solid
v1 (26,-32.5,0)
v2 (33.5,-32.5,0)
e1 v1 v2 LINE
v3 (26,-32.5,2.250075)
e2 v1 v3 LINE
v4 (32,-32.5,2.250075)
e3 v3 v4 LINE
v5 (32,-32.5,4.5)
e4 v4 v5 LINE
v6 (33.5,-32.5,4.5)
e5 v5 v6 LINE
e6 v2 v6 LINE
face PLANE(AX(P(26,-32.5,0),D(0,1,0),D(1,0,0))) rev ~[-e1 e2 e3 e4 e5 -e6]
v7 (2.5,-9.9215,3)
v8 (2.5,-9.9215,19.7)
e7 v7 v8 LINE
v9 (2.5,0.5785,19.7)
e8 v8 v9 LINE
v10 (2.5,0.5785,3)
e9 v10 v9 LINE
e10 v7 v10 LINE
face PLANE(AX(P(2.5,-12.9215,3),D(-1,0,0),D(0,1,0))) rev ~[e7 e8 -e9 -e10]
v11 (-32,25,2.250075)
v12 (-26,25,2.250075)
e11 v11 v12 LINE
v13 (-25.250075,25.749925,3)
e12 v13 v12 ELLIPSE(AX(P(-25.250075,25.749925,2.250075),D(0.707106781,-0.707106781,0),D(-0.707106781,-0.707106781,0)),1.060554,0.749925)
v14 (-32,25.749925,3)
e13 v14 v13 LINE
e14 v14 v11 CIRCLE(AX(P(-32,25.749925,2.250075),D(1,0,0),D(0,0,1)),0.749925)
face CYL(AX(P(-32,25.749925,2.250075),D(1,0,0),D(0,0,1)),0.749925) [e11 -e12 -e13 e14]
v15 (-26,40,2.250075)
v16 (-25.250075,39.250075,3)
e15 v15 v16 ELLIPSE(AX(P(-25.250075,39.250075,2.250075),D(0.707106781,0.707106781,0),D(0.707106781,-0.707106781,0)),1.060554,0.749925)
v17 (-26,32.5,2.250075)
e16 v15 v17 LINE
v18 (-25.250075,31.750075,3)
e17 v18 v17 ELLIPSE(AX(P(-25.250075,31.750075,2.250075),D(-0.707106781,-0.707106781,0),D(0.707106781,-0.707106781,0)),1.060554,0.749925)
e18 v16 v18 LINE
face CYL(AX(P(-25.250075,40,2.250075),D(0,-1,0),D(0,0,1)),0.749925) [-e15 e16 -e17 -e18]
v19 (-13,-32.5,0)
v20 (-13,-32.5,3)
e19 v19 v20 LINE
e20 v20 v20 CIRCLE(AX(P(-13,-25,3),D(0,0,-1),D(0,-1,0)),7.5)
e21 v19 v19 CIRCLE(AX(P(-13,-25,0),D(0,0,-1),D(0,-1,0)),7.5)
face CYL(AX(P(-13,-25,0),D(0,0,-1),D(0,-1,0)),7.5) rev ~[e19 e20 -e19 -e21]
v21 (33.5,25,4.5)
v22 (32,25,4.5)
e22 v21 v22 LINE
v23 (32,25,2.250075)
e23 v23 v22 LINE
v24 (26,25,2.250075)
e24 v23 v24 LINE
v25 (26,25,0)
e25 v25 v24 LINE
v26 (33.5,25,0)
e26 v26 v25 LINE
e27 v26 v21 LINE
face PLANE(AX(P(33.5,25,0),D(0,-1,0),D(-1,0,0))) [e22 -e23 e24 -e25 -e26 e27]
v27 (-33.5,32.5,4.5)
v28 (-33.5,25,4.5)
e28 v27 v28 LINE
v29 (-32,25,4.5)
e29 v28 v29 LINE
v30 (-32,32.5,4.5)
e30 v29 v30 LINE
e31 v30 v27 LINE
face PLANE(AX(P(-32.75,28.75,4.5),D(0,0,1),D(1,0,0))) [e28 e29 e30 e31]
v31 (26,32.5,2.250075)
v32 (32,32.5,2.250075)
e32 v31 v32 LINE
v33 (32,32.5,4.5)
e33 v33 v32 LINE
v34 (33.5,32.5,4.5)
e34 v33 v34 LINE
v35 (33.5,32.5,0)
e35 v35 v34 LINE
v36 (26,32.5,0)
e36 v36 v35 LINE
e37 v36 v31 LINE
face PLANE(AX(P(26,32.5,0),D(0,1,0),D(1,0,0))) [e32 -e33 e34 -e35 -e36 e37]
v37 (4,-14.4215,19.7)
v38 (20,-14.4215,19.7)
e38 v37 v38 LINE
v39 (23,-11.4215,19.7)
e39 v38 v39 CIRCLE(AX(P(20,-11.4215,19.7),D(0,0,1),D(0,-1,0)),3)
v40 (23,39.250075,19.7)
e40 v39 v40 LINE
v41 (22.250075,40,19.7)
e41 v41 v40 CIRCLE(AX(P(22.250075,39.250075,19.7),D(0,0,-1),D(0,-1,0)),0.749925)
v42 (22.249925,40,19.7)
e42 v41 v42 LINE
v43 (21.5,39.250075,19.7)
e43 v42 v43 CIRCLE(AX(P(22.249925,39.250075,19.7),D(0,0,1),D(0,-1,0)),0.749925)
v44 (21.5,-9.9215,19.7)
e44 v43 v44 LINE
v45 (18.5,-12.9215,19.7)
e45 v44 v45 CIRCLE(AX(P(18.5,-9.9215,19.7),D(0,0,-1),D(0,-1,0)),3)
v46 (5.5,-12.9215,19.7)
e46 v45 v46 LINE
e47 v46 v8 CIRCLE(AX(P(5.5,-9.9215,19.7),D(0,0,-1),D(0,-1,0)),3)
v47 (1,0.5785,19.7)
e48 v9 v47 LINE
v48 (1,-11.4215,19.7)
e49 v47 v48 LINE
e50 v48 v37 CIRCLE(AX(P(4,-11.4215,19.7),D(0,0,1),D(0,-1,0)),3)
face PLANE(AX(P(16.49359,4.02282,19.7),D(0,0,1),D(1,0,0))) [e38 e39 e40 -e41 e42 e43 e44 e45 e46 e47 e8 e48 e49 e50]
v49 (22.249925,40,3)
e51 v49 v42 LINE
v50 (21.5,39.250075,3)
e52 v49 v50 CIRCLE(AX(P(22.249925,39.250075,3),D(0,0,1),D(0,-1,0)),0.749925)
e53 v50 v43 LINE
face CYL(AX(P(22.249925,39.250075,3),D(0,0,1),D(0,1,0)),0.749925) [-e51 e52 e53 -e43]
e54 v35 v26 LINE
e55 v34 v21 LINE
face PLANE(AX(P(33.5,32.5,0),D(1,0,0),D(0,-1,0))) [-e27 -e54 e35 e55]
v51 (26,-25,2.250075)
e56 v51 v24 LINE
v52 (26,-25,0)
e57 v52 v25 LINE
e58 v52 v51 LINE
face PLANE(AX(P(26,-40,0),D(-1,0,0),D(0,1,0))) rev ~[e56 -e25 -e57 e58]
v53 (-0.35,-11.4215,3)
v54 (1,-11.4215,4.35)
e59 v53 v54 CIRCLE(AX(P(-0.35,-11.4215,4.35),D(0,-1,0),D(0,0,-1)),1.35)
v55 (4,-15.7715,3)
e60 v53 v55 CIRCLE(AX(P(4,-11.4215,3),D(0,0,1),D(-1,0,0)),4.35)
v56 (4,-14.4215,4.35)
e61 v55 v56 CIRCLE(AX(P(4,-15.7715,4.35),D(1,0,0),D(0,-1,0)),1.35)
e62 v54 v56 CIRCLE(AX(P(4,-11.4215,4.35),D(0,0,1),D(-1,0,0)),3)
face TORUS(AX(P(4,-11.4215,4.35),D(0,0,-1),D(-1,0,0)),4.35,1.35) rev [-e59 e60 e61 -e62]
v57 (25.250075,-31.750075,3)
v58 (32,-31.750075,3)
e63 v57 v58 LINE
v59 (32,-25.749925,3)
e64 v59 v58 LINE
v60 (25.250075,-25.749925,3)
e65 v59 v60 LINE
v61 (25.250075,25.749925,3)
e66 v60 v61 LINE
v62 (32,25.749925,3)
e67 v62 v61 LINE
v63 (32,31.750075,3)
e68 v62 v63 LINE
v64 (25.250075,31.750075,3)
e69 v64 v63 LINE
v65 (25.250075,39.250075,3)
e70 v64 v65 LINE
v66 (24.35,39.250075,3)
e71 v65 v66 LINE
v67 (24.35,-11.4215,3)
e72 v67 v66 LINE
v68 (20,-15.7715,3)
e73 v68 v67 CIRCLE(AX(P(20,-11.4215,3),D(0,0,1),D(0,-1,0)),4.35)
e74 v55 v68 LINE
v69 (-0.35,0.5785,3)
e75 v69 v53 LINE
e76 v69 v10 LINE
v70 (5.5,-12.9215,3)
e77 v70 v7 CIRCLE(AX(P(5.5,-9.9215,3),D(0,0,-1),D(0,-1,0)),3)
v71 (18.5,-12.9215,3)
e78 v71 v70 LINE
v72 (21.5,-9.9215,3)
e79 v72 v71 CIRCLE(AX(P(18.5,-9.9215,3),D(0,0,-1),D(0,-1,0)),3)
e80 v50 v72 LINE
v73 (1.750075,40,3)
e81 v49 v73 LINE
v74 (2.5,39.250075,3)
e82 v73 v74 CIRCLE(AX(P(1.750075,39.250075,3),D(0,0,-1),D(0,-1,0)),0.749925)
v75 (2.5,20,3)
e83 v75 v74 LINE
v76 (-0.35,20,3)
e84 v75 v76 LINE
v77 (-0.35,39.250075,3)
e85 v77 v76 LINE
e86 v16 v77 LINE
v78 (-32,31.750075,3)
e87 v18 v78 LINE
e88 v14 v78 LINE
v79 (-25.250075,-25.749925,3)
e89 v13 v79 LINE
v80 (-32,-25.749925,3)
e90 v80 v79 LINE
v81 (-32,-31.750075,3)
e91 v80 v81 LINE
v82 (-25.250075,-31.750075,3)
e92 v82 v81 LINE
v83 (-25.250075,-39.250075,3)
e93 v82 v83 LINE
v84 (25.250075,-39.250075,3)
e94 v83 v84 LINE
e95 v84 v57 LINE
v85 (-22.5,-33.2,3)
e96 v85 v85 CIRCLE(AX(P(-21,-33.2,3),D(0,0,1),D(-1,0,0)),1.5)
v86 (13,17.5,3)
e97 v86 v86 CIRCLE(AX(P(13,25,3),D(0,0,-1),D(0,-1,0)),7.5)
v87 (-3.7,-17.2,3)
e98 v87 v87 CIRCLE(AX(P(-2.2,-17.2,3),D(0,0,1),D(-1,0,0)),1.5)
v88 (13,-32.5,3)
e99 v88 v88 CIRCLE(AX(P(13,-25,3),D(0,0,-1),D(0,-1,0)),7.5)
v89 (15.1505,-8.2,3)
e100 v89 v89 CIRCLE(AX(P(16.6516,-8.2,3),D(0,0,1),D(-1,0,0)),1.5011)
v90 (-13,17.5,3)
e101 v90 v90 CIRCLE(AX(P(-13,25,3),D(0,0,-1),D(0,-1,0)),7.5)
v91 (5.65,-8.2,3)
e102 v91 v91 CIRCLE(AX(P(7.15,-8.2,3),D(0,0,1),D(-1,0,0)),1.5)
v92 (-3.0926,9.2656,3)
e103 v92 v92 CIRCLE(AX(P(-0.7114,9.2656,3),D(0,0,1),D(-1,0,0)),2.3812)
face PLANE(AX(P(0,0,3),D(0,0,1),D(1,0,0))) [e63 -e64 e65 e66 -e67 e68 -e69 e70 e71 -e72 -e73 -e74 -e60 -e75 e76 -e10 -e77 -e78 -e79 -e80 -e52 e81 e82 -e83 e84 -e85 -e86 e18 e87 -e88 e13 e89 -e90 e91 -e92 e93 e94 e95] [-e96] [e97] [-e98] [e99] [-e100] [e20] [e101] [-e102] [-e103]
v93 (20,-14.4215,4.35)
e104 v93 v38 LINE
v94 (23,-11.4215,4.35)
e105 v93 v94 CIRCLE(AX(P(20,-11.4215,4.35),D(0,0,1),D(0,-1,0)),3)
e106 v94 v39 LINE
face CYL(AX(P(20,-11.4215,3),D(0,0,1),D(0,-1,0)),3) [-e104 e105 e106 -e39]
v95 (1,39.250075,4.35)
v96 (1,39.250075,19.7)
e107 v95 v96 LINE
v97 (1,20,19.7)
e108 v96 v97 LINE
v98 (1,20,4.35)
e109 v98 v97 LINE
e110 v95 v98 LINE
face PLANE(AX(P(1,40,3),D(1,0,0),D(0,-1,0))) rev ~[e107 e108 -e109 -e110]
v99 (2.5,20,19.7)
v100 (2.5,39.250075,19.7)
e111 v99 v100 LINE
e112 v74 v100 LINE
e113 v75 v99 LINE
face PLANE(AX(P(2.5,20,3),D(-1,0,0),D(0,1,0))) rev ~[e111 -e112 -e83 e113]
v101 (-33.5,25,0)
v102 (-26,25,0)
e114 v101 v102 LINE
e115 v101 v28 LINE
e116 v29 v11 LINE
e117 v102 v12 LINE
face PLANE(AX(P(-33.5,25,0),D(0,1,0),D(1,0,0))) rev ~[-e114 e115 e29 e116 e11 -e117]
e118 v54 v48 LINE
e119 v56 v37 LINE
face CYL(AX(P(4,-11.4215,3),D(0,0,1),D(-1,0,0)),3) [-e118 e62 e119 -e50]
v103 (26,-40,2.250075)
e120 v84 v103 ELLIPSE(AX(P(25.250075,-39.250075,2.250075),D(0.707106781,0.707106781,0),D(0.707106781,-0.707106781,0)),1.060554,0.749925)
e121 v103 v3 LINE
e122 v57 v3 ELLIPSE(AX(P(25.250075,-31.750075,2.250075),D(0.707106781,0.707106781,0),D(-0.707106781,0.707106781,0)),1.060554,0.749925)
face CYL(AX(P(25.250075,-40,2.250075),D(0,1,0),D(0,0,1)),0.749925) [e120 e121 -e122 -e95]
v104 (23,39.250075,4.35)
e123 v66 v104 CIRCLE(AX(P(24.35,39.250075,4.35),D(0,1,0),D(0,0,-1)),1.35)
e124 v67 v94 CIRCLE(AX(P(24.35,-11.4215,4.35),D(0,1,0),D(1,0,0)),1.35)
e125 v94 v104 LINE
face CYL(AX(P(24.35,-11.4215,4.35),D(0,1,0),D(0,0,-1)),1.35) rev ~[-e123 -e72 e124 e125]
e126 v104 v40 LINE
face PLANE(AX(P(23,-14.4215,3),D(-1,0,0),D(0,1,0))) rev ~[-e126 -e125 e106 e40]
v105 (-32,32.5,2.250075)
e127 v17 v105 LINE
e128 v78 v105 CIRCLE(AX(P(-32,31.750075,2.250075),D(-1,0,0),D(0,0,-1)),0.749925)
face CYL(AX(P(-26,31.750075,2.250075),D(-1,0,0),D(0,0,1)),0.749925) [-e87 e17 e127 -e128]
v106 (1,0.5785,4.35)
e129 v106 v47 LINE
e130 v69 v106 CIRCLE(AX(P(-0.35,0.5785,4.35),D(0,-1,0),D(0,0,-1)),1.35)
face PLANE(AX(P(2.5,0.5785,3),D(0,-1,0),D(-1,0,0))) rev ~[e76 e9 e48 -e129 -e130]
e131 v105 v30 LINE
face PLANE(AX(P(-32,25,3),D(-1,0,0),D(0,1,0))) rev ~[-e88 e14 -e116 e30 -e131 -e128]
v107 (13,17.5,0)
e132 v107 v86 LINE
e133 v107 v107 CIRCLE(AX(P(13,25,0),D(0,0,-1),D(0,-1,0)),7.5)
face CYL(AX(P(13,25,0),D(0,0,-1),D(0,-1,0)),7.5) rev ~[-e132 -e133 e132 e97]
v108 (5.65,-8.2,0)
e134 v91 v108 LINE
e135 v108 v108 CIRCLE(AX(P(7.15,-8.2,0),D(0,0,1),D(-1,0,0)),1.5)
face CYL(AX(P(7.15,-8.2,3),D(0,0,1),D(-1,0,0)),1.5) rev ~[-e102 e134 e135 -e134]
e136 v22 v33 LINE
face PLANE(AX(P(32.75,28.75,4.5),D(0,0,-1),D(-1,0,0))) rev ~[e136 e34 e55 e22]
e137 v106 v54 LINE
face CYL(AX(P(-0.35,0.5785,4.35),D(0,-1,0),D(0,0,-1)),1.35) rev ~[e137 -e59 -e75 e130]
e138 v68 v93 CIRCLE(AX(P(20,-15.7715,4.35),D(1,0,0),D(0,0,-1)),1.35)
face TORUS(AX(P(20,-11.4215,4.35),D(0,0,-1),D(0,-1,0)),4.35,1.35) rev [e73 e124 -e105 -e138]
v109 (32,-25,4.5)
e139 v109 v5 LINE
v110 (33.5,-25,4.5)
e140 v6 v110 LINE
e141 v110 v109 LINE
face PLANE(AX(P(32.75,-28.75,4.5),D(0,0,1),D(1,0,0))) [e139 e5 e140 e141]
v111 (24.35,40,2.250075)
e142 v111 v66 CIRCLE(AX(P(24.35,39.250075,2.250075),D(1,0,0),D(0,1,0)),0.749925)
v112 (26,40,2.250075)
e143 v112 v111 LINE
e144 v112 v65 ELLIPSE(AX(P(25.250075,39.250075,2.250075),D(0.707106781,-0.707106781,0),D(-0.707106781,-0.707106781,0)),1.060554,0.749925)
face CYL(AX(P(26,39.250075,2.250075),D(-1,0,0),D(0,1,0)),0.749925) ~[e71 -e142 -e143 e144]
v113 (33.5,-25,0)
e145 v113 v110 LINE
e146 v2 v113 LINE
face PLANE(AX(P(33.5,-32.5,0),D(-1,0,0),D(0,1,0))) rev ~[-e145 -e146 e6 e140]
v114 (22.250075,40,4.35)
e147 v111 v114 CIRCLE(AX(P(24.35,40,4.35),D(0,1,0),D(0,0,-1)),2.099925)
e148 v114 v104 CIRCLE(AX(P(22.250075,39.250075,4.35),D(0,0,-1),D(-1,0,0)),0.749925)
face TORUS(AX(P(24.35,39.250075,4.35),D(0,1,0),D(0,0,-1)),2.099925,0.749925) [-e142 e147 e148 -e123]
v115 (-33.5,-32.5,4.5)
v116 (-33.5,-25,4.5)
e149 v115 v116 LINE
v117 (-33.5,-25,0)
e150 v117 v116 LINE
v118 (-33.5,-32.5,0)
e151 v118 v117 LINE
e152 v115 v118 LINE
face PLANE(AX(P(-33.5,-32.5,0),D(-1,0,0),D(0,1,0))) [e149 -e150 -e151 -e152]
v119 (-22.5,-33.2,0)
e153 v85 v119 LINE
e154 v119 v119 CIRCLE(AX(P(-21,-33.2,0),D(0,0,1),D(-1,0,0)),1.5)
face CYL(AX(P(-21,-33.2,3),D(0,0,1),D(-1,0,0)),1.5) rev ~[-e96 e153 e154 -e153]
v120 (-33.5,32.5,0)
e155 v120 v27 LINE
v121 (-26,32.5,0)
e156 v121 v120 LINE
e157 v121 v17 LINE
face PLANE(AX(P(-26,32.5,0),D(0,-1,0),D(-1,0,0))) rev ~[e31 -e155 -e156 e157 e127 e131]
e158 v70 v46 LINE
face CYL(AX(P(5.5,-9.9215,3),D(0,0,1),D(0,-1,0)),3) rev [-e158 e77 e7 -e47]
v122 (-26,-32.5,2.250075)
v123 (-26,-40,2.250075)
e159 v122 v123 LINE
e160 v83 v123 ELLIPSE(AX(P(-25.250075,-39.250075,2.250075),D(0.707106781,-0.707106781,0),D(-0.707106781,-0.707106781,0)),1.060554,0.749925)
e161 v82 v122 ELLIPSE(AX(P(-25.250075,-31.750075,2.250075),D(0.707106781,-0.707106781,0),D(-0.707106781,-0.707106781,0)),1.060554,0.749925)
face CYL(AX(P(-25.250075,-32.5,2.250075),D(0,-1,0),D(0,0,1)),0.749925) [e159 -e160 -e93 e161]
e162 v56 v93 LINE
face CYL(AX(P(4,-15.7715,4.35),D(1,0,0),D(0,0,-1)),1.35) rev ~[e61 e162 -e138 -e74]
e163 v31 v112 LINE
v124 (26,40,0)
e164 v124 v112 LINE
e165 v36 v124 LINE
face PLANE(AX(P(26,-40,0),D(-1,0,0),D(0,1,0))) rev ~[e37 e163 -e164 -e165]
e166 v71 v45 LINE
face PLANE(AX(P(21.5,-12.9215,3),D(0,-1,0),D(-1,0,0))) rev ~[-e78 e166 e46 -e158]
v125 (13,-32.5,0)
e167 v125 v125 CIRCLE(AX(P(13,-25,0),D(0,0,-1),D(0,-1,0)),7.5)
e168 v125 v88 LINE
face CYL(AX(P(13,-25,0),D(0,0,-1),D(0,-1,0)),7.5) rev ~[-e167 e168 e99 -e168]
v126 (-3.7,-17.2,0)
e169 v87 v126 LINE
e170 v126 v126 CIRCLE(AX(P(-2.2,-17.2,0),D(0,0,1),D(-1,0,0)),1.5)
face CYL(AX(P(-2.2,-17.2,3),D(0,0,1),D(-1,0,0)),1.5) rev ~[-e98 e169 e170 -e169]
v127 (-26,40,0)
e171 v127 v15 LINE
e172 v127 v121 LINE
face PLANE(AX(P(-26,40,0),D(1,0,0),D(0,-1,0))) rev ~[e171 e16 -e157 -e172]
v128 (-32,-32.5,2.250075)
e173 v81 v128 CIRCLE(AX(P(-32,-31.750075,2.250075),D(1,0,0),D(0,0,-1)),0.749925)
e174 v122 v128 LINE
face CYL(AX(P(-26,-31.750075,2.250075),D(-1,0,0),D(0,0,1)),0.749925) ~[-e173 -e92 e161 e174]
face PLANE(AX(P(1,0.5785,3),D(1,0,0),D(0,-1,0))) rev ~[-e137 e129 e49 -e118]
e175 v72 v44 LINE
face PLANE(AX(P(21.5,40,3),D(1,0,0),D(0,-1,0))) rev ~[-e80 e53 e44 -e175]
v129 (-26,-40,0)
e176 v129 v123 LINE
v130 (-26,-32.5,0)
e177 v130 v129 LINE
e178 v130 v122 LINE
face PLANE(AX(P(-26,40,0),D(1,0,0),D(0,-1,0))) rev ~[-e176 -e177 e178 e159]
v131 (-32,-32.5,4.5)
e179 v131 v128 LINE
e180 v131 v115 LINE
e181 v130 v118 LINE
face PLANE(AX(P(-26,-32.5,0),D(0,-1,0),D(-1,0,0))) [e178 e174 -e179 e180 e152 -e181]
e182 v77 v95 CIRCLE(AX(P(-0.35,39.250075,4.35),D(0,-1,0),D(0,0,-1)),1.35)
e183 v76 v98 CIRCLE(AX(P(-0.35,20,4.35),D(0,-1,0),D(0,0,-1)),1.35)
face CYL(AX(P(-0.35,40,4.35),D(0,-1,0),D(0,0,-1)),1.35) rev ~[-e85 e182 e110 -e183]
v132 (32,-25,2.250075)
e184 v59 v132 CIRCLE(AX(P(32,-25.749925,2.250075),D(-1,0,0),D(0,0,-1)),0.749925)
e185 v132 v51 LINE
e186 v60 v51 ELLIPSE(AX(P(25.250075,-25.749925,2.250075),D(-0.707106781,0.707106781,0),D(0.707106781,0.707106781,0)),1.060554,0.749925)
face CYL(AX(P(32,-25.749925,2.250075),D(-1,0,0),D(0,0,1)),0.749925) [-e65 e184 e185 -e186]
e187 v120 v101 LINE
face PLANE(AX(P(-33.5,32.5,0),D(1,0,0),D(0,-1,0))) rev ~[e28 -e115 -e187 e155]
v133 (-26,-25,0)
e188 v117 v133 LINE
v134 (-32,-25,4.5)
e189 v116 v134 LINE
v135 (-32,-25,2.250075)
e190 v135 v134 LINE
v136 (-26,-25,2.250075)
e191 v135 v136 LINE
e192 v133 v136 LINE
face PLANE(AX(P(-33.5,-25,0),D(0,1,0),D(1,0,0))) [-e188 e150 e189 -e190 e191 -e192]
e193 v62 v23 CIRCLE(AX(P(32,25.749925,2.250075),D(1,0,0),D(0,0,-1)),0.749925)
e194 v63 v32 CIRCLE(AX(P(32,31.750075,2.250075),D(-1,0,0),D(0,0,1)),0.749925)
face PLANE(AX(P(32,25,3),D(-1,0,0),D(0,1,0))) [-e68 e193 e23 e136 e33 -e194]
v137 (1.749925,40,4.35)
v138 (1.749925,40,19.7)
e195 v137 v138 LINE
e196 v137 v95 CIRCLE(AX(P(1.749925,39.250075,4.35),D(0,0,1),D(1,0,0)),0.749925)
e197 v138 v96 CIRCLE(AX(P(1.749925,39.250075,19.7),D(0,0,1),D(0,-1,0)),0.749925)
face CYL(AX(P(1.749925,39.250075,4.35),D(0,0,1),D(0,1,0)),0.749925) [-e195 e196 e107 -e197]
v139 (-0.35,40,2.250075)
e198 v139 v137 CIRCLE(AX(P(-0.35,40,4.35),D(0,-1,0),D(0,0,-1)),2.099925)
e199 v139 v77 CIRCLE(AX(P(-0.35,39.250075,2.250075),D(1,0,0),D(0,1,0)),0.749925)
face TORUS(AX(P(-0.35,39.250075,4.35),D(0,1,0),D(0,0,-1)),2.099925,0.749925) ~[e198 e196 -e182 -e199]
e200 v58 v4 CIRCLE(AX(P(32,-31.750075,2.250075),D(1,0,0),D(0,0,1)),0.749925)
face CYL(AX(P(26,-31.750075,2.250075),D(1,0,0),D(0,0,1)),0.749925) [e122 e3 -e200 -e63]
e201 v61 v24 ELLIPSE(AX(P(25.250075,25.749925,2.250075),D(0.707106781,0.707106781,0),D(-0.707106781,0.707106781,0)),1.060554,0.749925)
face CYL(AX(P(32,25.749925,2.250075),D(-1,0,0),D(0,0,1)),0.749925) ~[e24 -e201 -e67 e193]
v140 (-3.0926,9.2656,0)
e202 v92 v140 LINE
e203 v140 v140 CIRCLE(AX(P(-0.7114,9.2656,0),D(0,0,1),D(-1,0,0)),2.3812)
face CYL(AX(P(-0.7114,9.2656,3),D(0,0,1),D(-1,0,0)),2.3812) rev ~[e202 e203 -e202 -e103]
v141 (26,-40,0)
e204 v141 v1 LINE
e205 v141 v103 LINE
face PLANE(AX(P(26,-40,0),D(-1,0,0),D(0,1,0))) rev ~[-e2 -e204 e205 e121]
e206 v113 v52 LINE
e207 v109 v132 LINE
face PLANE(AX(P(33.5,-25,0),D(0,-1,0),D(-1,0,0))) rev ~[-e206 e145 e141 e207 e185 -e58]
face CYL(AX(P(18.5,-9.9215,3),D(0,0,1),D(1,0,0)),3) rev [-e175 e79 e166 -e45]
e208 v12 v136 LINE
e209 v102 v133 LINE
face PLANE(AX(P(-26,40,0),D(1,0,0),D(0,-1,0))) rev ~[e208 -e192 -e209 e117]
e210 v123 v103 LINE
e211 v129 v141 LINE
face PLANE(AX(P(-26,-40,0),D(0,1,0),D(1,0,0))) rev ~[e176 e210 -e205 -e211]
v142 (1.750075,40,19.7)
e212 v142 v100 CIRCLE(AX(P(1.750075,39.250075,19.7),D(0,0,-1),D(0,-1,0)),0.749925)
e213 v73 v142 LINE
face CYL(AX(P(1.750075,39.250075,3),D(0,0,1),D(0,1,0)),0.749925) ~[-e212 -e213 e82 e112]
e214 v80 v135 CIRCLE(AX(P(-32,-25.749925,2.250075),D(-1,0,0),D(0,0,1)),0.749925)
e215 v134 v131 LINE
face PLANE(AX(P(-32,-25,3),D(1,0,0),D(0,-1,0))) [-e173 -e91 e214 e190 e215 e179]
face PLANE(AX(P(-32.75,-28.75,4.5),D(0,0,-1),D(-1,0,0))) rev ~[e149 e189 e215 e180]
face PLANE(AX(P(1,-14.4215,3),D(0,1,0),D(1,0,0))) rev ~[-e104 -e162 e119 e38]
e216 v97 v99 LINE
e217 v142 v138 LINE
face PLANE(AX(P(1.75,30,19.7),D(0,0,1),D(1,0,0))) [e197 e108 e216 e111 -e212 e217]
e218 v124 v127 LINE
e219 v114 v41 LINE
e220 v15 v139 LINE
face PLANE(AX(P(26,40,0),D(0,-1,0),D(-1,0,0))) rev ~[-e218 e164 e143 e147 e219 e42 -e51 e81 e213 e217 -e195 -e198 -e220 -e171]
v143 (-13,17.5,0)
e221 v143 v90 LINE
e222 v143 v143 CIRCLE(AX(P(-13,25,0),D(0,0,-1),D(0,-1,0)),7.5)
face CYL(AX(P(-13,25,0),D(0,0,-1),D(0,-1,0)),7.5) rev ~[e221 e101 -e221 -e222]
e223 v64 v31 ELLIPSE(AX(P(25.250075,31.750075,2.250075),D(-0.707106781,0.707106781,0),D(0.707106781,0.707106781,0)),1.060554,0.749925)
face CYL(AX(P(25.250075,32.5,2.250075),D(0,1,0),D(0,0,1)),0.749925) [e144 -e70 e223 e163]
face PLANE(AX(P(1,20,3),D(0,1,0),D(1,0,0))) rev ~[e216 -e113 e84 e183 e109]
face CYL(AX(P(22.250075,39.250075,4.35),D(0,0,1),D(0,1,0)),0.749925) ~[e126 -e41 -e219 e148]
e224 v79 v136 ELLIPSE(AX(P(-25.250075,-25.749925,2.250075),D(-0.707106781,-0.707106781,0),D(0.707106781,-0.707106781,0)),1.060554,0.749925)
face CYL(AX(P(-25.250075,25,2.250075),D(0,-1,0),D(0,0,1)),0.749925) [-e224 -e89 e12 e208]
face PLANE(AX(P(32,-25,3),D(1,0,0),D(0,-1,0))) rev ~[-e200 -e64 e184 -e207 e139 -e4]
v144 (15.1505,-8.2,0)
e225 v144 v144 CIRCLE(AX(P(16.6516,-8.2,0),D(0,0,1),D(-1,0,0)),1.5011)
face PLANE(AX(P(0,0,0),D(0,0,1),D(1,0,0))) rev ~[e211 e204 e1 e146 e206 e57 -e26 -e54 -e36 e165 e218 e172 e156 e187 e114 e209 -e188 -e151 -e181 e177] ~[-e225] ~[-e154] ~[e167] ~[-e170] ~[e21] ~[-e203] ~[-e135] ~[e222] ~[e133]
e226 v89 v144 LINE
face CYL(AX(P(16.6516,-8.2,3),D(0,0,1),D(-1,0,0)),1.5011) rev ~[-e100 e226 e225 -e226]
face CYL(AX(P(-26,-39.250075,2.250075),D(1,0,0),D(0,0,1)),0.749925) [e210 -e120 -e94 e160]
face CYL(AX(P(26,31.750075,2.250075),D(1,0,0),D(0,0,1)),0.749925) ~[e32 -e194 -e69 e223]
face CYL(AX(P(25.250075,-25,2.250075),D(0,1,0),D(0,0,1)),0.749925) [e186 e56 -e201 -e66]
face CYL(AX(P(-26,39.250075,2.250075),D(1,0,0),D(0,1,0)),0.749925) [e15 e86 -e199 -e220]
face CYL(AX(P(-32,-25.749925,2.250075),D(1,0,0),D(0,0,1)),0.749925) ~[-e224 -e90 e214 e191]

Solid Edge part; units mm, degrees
sketch "Sketch1" plane through (0, 0, 0) normal (0, 0, 1) x (1, 0, 0)
  line L0 (-26, -40) -> (26, -40)
  line L1 (26, -40) -> (26, 40)
  line L2 (26, 40) -> (-26, 40)
  line L3 (-26, 40) -> (-26, -40)
extrude "Protrusion1" add sketch "Sketch1" along normal blind 3
sketch "Sketch2" plane through (0, 0, 3) normal (0, 0, 1) x (-1, 0, 0)
  line L0 (-23, 14.4215) -> (-23, -40)
  line L1 (-23, -40) -> (-21.5, -40)
  line L2 (-21.5, -40) -> (-21.5, 12.9215)
  line L3 (-21.5, 12.9215) -> (-2.5, 12.9215)
  line L4 (-2.5, 12.9215) -> (-2.5, -0.5785)
  line L5 (-2.5, -0.5785) -> (-1, -0.5785)
  line L6 (-1, -0.5785) -> (-1, 14.4215)
  line L7 (-1, 14.4215) -> (-23, 14.4215)
  line L8 (-2.5, -40) -> (-1, -40)
  line L9 (-1, -40) -> (-1, -20)
  line L10 (-1, -20) -> (-2.5, -20)
  line L11 (-2.5, -20) -> (-2.5, -40)
  dimension "D1" = 3.0023
  dimension "D2" = 3
  dimension "D3" = 9.5016
  dimension "D4" = 8.2
  dimension "D5" = 7.15
  dimension "D6" = 19
  dimension "D7" = 1.5
  dimension "D8" = 54.4215
  dimension "D9" = 22
  dimension "D10" = 3
  dimension "D11" = 15
  dimension "D12" = 1.5
extrude "ExtrudedProtrusion_2" add sketch "Sketch2" along normal blind 16.7
sketch "Sketch3" plane through (0, 0, 3) normal (0, 0, 1) x (-1, 0, 0)
  circle A0 centre (-7.15, 8.2) radius 1.5
  circle A1 centre (-16.6516, 8.2) radius 1.5011
  dimension "D1" = 3.0023
  dimension "D2" = 3
  dimension "D3" = 9.5016
  dimension "D4" = 8.2
  dimension "D5" = 7.15
  dimension "D6" = 19
  dimension "D7" = 1.5
  dimension "D8" = 54.4215
  dimension "D9" = 22
  dimension "D10" = 3
  dimension "D11" = 15
  dimension "D12" = 1.5
extrude "Cutout1" cut sketch "Sketch3" against normal up to vertex (3 mm away)
sketch "Sketch4" plane through (0, 0, 3) normal (0, 0, 1) x (-1, 0, 0)
  circle A0 centre (2.2, 17.2) radius 1.5
  circle A1 centre (21, 33.2) radius 1.5
  dimension "D1" = 3
  dimension "D2" = 6.8
  dimension "D3" = 5
  dimension "D4" = 3
  dimension "D5" = 36.8
  dimension "D6" = 2.2
extrude "Cutout2" cut sketch "Sketch4" against normal up to vertex (3 mm away)
sketch "Sketch5" plane through (0, 0, 0) normal (0, 0, -1) x (-1, 0, 0)
  line L0 (33.5, 25) -> (26, 25)
  line L1 (26, 25) -> (26, 32.5)
  line L2 (26, 32.5) -> (33.5, 32.5)
  line L3 (33.5, 32.5) -> (33.5, 25)
  line L4 (33.5, -25) -> (26, -25)
  line L5 (26, -25) -> (26, -32.5)
  line L6 (26, -32.5) -> (33.5, -32.5)
  line L7 (33.5, -32.5) -> (33.5, -25)
  line L8 (-33.5, -25) -> (-26, -25)
  line L9 (-26, -25) -> (-26, -32.5)
  line L10 (-26, -32.5) -> (-33.5, -32.5)
  line L11 (-33.5, -32.5) -> (-33.5, -25)
  line L12 (-33.5, 25) -> (-26, 25)
  line L13 (-26, 25) -> (-26, 32.5)
  line L14 (-26, 32.5) -> (-33.5, 32.5)
  line L15 (-33.5, 32.5) -> (-33.5, 25)
  dimension "D1" = 7.5
  dimension "D2" = 7.5
  dimension "D3" = 7.5
  dimension "D4" = 7.5
  dimension "D5" = 7.5
  dimension "D6" = 7.5
extrude "Protrusion2" add sketch "Sketch5" against normal up to vertex (3 mm away)
sketch "Sketch6" plane through (0, 0, 3) normal (0, 0, 1) x (-1, 0, 0)
  line L0 (32, 25) -> (32, 32.5)
  line L1 (32, 32.5) -> (33.5, 32.5)
  line L2 (33.5, 32.5) -> (33.5, 25)
  line L3 (33.5, 25) -> (32, 25)
  line L4 (33.5, -32.5) -> (33.5, -25)
  line L5 (33.5, -25) -> (32, -25)
  line L6 (32, -25) -> (32, -32.5)
  line L7 (32, -32.5) -> (33.5, -32.5)
  line L8 (-32, -25) -> (-32, -32.5)
  line L9 (-32, -32.5) -> (-33.5, -32.5)
  line L10 (-33.5, -32.5) -> (-33.5, -25)
  line L11 (-33.5, -25) -> (-32, -25)
  line L12 (-33.5, 32.5) -> (-33.5, 25)
  line L13 (-33.5, 25) -> (-32, 25)
  line L14 (-32, 25) -> (-32, 32.5)
  line L15 (-32, 32.5) -> (-33.5, 32.5)
  dimension "D1" = 1.5
extrude "ExtrudedProtrusion_4" add sketch "Sketch6" along normal blind 1.5
sketch "Sketch7" plane through (0, 0, 0) normal (0, 0, -1) x (0, -1, 0)
  circle A0 centre (-25, 13) radius 7.5
  circle A1 centre (25, -13) radius 7.5
  circle A2 centre (-25, -13) radius 7.5
  circle A3 centre (25, 13) radius 7.5
  dimension "D1" = 15
  dimension "D2" = 15
  dimension "D3" = 13
  dimension "D4" = 15
  dimension "D5" = 13
  dimension "D6" = 15
extrude "Cutout3" cut sketch "Sketch7" against normal up to vertex (3 mm away)
fillet "Round_1" radius 3 4 edges at (1, -14.4215, 11.35) (2.5, -12.9215, 11.35) (21.5, -12.9215, 11.35) (23, -14.4215, 11.35)
fillet "Round_2" radius 1.35 6 edges at (1, -5.4215, 3) (1.8787, -13.5428, 3) (12, -14.4215, 3) (22.1213, -13.5428, 3) (23, 14.2893, 3) (1, 30, 3)
fillet "Round_3" radius 0.75 23 edges at (1, 40, 12.025) (0.6046, 40, 3.3954) (-13.175, 40, 3) (2.5, 40, 11.35) (-26, 0, 3) (-26, 36.25, 3) (-26, -36.25, 3) (0, -40, 3) (21.5, 40, 11.35) (23, 40, 12.025) (23.3954, 40, 3.3954) (25.175, 40, 3) (26, 36.25, 3) (26, 0, 3) (26, -36.25, 3) (-29, 32.5, 3) (-29, 25, 3) (-29, -25, 3) (-29, -32.5, 3) (29, 32.5, 3) (29, 25, 3) (29, -25, 3) (29, -32.5, 3)
sketch "Sketch8" plane through (0, 0.375, 3) normal (0, 0, 1) x (-1, 0, 0)
  circle A0 centre (0.7114, -8.8906) radius 2.3812
extrude "ExtrudedCutout_5" cut sketch "Sketch8" against normal blind 9.1795
properties material "ABS Plastic, medium impact"
